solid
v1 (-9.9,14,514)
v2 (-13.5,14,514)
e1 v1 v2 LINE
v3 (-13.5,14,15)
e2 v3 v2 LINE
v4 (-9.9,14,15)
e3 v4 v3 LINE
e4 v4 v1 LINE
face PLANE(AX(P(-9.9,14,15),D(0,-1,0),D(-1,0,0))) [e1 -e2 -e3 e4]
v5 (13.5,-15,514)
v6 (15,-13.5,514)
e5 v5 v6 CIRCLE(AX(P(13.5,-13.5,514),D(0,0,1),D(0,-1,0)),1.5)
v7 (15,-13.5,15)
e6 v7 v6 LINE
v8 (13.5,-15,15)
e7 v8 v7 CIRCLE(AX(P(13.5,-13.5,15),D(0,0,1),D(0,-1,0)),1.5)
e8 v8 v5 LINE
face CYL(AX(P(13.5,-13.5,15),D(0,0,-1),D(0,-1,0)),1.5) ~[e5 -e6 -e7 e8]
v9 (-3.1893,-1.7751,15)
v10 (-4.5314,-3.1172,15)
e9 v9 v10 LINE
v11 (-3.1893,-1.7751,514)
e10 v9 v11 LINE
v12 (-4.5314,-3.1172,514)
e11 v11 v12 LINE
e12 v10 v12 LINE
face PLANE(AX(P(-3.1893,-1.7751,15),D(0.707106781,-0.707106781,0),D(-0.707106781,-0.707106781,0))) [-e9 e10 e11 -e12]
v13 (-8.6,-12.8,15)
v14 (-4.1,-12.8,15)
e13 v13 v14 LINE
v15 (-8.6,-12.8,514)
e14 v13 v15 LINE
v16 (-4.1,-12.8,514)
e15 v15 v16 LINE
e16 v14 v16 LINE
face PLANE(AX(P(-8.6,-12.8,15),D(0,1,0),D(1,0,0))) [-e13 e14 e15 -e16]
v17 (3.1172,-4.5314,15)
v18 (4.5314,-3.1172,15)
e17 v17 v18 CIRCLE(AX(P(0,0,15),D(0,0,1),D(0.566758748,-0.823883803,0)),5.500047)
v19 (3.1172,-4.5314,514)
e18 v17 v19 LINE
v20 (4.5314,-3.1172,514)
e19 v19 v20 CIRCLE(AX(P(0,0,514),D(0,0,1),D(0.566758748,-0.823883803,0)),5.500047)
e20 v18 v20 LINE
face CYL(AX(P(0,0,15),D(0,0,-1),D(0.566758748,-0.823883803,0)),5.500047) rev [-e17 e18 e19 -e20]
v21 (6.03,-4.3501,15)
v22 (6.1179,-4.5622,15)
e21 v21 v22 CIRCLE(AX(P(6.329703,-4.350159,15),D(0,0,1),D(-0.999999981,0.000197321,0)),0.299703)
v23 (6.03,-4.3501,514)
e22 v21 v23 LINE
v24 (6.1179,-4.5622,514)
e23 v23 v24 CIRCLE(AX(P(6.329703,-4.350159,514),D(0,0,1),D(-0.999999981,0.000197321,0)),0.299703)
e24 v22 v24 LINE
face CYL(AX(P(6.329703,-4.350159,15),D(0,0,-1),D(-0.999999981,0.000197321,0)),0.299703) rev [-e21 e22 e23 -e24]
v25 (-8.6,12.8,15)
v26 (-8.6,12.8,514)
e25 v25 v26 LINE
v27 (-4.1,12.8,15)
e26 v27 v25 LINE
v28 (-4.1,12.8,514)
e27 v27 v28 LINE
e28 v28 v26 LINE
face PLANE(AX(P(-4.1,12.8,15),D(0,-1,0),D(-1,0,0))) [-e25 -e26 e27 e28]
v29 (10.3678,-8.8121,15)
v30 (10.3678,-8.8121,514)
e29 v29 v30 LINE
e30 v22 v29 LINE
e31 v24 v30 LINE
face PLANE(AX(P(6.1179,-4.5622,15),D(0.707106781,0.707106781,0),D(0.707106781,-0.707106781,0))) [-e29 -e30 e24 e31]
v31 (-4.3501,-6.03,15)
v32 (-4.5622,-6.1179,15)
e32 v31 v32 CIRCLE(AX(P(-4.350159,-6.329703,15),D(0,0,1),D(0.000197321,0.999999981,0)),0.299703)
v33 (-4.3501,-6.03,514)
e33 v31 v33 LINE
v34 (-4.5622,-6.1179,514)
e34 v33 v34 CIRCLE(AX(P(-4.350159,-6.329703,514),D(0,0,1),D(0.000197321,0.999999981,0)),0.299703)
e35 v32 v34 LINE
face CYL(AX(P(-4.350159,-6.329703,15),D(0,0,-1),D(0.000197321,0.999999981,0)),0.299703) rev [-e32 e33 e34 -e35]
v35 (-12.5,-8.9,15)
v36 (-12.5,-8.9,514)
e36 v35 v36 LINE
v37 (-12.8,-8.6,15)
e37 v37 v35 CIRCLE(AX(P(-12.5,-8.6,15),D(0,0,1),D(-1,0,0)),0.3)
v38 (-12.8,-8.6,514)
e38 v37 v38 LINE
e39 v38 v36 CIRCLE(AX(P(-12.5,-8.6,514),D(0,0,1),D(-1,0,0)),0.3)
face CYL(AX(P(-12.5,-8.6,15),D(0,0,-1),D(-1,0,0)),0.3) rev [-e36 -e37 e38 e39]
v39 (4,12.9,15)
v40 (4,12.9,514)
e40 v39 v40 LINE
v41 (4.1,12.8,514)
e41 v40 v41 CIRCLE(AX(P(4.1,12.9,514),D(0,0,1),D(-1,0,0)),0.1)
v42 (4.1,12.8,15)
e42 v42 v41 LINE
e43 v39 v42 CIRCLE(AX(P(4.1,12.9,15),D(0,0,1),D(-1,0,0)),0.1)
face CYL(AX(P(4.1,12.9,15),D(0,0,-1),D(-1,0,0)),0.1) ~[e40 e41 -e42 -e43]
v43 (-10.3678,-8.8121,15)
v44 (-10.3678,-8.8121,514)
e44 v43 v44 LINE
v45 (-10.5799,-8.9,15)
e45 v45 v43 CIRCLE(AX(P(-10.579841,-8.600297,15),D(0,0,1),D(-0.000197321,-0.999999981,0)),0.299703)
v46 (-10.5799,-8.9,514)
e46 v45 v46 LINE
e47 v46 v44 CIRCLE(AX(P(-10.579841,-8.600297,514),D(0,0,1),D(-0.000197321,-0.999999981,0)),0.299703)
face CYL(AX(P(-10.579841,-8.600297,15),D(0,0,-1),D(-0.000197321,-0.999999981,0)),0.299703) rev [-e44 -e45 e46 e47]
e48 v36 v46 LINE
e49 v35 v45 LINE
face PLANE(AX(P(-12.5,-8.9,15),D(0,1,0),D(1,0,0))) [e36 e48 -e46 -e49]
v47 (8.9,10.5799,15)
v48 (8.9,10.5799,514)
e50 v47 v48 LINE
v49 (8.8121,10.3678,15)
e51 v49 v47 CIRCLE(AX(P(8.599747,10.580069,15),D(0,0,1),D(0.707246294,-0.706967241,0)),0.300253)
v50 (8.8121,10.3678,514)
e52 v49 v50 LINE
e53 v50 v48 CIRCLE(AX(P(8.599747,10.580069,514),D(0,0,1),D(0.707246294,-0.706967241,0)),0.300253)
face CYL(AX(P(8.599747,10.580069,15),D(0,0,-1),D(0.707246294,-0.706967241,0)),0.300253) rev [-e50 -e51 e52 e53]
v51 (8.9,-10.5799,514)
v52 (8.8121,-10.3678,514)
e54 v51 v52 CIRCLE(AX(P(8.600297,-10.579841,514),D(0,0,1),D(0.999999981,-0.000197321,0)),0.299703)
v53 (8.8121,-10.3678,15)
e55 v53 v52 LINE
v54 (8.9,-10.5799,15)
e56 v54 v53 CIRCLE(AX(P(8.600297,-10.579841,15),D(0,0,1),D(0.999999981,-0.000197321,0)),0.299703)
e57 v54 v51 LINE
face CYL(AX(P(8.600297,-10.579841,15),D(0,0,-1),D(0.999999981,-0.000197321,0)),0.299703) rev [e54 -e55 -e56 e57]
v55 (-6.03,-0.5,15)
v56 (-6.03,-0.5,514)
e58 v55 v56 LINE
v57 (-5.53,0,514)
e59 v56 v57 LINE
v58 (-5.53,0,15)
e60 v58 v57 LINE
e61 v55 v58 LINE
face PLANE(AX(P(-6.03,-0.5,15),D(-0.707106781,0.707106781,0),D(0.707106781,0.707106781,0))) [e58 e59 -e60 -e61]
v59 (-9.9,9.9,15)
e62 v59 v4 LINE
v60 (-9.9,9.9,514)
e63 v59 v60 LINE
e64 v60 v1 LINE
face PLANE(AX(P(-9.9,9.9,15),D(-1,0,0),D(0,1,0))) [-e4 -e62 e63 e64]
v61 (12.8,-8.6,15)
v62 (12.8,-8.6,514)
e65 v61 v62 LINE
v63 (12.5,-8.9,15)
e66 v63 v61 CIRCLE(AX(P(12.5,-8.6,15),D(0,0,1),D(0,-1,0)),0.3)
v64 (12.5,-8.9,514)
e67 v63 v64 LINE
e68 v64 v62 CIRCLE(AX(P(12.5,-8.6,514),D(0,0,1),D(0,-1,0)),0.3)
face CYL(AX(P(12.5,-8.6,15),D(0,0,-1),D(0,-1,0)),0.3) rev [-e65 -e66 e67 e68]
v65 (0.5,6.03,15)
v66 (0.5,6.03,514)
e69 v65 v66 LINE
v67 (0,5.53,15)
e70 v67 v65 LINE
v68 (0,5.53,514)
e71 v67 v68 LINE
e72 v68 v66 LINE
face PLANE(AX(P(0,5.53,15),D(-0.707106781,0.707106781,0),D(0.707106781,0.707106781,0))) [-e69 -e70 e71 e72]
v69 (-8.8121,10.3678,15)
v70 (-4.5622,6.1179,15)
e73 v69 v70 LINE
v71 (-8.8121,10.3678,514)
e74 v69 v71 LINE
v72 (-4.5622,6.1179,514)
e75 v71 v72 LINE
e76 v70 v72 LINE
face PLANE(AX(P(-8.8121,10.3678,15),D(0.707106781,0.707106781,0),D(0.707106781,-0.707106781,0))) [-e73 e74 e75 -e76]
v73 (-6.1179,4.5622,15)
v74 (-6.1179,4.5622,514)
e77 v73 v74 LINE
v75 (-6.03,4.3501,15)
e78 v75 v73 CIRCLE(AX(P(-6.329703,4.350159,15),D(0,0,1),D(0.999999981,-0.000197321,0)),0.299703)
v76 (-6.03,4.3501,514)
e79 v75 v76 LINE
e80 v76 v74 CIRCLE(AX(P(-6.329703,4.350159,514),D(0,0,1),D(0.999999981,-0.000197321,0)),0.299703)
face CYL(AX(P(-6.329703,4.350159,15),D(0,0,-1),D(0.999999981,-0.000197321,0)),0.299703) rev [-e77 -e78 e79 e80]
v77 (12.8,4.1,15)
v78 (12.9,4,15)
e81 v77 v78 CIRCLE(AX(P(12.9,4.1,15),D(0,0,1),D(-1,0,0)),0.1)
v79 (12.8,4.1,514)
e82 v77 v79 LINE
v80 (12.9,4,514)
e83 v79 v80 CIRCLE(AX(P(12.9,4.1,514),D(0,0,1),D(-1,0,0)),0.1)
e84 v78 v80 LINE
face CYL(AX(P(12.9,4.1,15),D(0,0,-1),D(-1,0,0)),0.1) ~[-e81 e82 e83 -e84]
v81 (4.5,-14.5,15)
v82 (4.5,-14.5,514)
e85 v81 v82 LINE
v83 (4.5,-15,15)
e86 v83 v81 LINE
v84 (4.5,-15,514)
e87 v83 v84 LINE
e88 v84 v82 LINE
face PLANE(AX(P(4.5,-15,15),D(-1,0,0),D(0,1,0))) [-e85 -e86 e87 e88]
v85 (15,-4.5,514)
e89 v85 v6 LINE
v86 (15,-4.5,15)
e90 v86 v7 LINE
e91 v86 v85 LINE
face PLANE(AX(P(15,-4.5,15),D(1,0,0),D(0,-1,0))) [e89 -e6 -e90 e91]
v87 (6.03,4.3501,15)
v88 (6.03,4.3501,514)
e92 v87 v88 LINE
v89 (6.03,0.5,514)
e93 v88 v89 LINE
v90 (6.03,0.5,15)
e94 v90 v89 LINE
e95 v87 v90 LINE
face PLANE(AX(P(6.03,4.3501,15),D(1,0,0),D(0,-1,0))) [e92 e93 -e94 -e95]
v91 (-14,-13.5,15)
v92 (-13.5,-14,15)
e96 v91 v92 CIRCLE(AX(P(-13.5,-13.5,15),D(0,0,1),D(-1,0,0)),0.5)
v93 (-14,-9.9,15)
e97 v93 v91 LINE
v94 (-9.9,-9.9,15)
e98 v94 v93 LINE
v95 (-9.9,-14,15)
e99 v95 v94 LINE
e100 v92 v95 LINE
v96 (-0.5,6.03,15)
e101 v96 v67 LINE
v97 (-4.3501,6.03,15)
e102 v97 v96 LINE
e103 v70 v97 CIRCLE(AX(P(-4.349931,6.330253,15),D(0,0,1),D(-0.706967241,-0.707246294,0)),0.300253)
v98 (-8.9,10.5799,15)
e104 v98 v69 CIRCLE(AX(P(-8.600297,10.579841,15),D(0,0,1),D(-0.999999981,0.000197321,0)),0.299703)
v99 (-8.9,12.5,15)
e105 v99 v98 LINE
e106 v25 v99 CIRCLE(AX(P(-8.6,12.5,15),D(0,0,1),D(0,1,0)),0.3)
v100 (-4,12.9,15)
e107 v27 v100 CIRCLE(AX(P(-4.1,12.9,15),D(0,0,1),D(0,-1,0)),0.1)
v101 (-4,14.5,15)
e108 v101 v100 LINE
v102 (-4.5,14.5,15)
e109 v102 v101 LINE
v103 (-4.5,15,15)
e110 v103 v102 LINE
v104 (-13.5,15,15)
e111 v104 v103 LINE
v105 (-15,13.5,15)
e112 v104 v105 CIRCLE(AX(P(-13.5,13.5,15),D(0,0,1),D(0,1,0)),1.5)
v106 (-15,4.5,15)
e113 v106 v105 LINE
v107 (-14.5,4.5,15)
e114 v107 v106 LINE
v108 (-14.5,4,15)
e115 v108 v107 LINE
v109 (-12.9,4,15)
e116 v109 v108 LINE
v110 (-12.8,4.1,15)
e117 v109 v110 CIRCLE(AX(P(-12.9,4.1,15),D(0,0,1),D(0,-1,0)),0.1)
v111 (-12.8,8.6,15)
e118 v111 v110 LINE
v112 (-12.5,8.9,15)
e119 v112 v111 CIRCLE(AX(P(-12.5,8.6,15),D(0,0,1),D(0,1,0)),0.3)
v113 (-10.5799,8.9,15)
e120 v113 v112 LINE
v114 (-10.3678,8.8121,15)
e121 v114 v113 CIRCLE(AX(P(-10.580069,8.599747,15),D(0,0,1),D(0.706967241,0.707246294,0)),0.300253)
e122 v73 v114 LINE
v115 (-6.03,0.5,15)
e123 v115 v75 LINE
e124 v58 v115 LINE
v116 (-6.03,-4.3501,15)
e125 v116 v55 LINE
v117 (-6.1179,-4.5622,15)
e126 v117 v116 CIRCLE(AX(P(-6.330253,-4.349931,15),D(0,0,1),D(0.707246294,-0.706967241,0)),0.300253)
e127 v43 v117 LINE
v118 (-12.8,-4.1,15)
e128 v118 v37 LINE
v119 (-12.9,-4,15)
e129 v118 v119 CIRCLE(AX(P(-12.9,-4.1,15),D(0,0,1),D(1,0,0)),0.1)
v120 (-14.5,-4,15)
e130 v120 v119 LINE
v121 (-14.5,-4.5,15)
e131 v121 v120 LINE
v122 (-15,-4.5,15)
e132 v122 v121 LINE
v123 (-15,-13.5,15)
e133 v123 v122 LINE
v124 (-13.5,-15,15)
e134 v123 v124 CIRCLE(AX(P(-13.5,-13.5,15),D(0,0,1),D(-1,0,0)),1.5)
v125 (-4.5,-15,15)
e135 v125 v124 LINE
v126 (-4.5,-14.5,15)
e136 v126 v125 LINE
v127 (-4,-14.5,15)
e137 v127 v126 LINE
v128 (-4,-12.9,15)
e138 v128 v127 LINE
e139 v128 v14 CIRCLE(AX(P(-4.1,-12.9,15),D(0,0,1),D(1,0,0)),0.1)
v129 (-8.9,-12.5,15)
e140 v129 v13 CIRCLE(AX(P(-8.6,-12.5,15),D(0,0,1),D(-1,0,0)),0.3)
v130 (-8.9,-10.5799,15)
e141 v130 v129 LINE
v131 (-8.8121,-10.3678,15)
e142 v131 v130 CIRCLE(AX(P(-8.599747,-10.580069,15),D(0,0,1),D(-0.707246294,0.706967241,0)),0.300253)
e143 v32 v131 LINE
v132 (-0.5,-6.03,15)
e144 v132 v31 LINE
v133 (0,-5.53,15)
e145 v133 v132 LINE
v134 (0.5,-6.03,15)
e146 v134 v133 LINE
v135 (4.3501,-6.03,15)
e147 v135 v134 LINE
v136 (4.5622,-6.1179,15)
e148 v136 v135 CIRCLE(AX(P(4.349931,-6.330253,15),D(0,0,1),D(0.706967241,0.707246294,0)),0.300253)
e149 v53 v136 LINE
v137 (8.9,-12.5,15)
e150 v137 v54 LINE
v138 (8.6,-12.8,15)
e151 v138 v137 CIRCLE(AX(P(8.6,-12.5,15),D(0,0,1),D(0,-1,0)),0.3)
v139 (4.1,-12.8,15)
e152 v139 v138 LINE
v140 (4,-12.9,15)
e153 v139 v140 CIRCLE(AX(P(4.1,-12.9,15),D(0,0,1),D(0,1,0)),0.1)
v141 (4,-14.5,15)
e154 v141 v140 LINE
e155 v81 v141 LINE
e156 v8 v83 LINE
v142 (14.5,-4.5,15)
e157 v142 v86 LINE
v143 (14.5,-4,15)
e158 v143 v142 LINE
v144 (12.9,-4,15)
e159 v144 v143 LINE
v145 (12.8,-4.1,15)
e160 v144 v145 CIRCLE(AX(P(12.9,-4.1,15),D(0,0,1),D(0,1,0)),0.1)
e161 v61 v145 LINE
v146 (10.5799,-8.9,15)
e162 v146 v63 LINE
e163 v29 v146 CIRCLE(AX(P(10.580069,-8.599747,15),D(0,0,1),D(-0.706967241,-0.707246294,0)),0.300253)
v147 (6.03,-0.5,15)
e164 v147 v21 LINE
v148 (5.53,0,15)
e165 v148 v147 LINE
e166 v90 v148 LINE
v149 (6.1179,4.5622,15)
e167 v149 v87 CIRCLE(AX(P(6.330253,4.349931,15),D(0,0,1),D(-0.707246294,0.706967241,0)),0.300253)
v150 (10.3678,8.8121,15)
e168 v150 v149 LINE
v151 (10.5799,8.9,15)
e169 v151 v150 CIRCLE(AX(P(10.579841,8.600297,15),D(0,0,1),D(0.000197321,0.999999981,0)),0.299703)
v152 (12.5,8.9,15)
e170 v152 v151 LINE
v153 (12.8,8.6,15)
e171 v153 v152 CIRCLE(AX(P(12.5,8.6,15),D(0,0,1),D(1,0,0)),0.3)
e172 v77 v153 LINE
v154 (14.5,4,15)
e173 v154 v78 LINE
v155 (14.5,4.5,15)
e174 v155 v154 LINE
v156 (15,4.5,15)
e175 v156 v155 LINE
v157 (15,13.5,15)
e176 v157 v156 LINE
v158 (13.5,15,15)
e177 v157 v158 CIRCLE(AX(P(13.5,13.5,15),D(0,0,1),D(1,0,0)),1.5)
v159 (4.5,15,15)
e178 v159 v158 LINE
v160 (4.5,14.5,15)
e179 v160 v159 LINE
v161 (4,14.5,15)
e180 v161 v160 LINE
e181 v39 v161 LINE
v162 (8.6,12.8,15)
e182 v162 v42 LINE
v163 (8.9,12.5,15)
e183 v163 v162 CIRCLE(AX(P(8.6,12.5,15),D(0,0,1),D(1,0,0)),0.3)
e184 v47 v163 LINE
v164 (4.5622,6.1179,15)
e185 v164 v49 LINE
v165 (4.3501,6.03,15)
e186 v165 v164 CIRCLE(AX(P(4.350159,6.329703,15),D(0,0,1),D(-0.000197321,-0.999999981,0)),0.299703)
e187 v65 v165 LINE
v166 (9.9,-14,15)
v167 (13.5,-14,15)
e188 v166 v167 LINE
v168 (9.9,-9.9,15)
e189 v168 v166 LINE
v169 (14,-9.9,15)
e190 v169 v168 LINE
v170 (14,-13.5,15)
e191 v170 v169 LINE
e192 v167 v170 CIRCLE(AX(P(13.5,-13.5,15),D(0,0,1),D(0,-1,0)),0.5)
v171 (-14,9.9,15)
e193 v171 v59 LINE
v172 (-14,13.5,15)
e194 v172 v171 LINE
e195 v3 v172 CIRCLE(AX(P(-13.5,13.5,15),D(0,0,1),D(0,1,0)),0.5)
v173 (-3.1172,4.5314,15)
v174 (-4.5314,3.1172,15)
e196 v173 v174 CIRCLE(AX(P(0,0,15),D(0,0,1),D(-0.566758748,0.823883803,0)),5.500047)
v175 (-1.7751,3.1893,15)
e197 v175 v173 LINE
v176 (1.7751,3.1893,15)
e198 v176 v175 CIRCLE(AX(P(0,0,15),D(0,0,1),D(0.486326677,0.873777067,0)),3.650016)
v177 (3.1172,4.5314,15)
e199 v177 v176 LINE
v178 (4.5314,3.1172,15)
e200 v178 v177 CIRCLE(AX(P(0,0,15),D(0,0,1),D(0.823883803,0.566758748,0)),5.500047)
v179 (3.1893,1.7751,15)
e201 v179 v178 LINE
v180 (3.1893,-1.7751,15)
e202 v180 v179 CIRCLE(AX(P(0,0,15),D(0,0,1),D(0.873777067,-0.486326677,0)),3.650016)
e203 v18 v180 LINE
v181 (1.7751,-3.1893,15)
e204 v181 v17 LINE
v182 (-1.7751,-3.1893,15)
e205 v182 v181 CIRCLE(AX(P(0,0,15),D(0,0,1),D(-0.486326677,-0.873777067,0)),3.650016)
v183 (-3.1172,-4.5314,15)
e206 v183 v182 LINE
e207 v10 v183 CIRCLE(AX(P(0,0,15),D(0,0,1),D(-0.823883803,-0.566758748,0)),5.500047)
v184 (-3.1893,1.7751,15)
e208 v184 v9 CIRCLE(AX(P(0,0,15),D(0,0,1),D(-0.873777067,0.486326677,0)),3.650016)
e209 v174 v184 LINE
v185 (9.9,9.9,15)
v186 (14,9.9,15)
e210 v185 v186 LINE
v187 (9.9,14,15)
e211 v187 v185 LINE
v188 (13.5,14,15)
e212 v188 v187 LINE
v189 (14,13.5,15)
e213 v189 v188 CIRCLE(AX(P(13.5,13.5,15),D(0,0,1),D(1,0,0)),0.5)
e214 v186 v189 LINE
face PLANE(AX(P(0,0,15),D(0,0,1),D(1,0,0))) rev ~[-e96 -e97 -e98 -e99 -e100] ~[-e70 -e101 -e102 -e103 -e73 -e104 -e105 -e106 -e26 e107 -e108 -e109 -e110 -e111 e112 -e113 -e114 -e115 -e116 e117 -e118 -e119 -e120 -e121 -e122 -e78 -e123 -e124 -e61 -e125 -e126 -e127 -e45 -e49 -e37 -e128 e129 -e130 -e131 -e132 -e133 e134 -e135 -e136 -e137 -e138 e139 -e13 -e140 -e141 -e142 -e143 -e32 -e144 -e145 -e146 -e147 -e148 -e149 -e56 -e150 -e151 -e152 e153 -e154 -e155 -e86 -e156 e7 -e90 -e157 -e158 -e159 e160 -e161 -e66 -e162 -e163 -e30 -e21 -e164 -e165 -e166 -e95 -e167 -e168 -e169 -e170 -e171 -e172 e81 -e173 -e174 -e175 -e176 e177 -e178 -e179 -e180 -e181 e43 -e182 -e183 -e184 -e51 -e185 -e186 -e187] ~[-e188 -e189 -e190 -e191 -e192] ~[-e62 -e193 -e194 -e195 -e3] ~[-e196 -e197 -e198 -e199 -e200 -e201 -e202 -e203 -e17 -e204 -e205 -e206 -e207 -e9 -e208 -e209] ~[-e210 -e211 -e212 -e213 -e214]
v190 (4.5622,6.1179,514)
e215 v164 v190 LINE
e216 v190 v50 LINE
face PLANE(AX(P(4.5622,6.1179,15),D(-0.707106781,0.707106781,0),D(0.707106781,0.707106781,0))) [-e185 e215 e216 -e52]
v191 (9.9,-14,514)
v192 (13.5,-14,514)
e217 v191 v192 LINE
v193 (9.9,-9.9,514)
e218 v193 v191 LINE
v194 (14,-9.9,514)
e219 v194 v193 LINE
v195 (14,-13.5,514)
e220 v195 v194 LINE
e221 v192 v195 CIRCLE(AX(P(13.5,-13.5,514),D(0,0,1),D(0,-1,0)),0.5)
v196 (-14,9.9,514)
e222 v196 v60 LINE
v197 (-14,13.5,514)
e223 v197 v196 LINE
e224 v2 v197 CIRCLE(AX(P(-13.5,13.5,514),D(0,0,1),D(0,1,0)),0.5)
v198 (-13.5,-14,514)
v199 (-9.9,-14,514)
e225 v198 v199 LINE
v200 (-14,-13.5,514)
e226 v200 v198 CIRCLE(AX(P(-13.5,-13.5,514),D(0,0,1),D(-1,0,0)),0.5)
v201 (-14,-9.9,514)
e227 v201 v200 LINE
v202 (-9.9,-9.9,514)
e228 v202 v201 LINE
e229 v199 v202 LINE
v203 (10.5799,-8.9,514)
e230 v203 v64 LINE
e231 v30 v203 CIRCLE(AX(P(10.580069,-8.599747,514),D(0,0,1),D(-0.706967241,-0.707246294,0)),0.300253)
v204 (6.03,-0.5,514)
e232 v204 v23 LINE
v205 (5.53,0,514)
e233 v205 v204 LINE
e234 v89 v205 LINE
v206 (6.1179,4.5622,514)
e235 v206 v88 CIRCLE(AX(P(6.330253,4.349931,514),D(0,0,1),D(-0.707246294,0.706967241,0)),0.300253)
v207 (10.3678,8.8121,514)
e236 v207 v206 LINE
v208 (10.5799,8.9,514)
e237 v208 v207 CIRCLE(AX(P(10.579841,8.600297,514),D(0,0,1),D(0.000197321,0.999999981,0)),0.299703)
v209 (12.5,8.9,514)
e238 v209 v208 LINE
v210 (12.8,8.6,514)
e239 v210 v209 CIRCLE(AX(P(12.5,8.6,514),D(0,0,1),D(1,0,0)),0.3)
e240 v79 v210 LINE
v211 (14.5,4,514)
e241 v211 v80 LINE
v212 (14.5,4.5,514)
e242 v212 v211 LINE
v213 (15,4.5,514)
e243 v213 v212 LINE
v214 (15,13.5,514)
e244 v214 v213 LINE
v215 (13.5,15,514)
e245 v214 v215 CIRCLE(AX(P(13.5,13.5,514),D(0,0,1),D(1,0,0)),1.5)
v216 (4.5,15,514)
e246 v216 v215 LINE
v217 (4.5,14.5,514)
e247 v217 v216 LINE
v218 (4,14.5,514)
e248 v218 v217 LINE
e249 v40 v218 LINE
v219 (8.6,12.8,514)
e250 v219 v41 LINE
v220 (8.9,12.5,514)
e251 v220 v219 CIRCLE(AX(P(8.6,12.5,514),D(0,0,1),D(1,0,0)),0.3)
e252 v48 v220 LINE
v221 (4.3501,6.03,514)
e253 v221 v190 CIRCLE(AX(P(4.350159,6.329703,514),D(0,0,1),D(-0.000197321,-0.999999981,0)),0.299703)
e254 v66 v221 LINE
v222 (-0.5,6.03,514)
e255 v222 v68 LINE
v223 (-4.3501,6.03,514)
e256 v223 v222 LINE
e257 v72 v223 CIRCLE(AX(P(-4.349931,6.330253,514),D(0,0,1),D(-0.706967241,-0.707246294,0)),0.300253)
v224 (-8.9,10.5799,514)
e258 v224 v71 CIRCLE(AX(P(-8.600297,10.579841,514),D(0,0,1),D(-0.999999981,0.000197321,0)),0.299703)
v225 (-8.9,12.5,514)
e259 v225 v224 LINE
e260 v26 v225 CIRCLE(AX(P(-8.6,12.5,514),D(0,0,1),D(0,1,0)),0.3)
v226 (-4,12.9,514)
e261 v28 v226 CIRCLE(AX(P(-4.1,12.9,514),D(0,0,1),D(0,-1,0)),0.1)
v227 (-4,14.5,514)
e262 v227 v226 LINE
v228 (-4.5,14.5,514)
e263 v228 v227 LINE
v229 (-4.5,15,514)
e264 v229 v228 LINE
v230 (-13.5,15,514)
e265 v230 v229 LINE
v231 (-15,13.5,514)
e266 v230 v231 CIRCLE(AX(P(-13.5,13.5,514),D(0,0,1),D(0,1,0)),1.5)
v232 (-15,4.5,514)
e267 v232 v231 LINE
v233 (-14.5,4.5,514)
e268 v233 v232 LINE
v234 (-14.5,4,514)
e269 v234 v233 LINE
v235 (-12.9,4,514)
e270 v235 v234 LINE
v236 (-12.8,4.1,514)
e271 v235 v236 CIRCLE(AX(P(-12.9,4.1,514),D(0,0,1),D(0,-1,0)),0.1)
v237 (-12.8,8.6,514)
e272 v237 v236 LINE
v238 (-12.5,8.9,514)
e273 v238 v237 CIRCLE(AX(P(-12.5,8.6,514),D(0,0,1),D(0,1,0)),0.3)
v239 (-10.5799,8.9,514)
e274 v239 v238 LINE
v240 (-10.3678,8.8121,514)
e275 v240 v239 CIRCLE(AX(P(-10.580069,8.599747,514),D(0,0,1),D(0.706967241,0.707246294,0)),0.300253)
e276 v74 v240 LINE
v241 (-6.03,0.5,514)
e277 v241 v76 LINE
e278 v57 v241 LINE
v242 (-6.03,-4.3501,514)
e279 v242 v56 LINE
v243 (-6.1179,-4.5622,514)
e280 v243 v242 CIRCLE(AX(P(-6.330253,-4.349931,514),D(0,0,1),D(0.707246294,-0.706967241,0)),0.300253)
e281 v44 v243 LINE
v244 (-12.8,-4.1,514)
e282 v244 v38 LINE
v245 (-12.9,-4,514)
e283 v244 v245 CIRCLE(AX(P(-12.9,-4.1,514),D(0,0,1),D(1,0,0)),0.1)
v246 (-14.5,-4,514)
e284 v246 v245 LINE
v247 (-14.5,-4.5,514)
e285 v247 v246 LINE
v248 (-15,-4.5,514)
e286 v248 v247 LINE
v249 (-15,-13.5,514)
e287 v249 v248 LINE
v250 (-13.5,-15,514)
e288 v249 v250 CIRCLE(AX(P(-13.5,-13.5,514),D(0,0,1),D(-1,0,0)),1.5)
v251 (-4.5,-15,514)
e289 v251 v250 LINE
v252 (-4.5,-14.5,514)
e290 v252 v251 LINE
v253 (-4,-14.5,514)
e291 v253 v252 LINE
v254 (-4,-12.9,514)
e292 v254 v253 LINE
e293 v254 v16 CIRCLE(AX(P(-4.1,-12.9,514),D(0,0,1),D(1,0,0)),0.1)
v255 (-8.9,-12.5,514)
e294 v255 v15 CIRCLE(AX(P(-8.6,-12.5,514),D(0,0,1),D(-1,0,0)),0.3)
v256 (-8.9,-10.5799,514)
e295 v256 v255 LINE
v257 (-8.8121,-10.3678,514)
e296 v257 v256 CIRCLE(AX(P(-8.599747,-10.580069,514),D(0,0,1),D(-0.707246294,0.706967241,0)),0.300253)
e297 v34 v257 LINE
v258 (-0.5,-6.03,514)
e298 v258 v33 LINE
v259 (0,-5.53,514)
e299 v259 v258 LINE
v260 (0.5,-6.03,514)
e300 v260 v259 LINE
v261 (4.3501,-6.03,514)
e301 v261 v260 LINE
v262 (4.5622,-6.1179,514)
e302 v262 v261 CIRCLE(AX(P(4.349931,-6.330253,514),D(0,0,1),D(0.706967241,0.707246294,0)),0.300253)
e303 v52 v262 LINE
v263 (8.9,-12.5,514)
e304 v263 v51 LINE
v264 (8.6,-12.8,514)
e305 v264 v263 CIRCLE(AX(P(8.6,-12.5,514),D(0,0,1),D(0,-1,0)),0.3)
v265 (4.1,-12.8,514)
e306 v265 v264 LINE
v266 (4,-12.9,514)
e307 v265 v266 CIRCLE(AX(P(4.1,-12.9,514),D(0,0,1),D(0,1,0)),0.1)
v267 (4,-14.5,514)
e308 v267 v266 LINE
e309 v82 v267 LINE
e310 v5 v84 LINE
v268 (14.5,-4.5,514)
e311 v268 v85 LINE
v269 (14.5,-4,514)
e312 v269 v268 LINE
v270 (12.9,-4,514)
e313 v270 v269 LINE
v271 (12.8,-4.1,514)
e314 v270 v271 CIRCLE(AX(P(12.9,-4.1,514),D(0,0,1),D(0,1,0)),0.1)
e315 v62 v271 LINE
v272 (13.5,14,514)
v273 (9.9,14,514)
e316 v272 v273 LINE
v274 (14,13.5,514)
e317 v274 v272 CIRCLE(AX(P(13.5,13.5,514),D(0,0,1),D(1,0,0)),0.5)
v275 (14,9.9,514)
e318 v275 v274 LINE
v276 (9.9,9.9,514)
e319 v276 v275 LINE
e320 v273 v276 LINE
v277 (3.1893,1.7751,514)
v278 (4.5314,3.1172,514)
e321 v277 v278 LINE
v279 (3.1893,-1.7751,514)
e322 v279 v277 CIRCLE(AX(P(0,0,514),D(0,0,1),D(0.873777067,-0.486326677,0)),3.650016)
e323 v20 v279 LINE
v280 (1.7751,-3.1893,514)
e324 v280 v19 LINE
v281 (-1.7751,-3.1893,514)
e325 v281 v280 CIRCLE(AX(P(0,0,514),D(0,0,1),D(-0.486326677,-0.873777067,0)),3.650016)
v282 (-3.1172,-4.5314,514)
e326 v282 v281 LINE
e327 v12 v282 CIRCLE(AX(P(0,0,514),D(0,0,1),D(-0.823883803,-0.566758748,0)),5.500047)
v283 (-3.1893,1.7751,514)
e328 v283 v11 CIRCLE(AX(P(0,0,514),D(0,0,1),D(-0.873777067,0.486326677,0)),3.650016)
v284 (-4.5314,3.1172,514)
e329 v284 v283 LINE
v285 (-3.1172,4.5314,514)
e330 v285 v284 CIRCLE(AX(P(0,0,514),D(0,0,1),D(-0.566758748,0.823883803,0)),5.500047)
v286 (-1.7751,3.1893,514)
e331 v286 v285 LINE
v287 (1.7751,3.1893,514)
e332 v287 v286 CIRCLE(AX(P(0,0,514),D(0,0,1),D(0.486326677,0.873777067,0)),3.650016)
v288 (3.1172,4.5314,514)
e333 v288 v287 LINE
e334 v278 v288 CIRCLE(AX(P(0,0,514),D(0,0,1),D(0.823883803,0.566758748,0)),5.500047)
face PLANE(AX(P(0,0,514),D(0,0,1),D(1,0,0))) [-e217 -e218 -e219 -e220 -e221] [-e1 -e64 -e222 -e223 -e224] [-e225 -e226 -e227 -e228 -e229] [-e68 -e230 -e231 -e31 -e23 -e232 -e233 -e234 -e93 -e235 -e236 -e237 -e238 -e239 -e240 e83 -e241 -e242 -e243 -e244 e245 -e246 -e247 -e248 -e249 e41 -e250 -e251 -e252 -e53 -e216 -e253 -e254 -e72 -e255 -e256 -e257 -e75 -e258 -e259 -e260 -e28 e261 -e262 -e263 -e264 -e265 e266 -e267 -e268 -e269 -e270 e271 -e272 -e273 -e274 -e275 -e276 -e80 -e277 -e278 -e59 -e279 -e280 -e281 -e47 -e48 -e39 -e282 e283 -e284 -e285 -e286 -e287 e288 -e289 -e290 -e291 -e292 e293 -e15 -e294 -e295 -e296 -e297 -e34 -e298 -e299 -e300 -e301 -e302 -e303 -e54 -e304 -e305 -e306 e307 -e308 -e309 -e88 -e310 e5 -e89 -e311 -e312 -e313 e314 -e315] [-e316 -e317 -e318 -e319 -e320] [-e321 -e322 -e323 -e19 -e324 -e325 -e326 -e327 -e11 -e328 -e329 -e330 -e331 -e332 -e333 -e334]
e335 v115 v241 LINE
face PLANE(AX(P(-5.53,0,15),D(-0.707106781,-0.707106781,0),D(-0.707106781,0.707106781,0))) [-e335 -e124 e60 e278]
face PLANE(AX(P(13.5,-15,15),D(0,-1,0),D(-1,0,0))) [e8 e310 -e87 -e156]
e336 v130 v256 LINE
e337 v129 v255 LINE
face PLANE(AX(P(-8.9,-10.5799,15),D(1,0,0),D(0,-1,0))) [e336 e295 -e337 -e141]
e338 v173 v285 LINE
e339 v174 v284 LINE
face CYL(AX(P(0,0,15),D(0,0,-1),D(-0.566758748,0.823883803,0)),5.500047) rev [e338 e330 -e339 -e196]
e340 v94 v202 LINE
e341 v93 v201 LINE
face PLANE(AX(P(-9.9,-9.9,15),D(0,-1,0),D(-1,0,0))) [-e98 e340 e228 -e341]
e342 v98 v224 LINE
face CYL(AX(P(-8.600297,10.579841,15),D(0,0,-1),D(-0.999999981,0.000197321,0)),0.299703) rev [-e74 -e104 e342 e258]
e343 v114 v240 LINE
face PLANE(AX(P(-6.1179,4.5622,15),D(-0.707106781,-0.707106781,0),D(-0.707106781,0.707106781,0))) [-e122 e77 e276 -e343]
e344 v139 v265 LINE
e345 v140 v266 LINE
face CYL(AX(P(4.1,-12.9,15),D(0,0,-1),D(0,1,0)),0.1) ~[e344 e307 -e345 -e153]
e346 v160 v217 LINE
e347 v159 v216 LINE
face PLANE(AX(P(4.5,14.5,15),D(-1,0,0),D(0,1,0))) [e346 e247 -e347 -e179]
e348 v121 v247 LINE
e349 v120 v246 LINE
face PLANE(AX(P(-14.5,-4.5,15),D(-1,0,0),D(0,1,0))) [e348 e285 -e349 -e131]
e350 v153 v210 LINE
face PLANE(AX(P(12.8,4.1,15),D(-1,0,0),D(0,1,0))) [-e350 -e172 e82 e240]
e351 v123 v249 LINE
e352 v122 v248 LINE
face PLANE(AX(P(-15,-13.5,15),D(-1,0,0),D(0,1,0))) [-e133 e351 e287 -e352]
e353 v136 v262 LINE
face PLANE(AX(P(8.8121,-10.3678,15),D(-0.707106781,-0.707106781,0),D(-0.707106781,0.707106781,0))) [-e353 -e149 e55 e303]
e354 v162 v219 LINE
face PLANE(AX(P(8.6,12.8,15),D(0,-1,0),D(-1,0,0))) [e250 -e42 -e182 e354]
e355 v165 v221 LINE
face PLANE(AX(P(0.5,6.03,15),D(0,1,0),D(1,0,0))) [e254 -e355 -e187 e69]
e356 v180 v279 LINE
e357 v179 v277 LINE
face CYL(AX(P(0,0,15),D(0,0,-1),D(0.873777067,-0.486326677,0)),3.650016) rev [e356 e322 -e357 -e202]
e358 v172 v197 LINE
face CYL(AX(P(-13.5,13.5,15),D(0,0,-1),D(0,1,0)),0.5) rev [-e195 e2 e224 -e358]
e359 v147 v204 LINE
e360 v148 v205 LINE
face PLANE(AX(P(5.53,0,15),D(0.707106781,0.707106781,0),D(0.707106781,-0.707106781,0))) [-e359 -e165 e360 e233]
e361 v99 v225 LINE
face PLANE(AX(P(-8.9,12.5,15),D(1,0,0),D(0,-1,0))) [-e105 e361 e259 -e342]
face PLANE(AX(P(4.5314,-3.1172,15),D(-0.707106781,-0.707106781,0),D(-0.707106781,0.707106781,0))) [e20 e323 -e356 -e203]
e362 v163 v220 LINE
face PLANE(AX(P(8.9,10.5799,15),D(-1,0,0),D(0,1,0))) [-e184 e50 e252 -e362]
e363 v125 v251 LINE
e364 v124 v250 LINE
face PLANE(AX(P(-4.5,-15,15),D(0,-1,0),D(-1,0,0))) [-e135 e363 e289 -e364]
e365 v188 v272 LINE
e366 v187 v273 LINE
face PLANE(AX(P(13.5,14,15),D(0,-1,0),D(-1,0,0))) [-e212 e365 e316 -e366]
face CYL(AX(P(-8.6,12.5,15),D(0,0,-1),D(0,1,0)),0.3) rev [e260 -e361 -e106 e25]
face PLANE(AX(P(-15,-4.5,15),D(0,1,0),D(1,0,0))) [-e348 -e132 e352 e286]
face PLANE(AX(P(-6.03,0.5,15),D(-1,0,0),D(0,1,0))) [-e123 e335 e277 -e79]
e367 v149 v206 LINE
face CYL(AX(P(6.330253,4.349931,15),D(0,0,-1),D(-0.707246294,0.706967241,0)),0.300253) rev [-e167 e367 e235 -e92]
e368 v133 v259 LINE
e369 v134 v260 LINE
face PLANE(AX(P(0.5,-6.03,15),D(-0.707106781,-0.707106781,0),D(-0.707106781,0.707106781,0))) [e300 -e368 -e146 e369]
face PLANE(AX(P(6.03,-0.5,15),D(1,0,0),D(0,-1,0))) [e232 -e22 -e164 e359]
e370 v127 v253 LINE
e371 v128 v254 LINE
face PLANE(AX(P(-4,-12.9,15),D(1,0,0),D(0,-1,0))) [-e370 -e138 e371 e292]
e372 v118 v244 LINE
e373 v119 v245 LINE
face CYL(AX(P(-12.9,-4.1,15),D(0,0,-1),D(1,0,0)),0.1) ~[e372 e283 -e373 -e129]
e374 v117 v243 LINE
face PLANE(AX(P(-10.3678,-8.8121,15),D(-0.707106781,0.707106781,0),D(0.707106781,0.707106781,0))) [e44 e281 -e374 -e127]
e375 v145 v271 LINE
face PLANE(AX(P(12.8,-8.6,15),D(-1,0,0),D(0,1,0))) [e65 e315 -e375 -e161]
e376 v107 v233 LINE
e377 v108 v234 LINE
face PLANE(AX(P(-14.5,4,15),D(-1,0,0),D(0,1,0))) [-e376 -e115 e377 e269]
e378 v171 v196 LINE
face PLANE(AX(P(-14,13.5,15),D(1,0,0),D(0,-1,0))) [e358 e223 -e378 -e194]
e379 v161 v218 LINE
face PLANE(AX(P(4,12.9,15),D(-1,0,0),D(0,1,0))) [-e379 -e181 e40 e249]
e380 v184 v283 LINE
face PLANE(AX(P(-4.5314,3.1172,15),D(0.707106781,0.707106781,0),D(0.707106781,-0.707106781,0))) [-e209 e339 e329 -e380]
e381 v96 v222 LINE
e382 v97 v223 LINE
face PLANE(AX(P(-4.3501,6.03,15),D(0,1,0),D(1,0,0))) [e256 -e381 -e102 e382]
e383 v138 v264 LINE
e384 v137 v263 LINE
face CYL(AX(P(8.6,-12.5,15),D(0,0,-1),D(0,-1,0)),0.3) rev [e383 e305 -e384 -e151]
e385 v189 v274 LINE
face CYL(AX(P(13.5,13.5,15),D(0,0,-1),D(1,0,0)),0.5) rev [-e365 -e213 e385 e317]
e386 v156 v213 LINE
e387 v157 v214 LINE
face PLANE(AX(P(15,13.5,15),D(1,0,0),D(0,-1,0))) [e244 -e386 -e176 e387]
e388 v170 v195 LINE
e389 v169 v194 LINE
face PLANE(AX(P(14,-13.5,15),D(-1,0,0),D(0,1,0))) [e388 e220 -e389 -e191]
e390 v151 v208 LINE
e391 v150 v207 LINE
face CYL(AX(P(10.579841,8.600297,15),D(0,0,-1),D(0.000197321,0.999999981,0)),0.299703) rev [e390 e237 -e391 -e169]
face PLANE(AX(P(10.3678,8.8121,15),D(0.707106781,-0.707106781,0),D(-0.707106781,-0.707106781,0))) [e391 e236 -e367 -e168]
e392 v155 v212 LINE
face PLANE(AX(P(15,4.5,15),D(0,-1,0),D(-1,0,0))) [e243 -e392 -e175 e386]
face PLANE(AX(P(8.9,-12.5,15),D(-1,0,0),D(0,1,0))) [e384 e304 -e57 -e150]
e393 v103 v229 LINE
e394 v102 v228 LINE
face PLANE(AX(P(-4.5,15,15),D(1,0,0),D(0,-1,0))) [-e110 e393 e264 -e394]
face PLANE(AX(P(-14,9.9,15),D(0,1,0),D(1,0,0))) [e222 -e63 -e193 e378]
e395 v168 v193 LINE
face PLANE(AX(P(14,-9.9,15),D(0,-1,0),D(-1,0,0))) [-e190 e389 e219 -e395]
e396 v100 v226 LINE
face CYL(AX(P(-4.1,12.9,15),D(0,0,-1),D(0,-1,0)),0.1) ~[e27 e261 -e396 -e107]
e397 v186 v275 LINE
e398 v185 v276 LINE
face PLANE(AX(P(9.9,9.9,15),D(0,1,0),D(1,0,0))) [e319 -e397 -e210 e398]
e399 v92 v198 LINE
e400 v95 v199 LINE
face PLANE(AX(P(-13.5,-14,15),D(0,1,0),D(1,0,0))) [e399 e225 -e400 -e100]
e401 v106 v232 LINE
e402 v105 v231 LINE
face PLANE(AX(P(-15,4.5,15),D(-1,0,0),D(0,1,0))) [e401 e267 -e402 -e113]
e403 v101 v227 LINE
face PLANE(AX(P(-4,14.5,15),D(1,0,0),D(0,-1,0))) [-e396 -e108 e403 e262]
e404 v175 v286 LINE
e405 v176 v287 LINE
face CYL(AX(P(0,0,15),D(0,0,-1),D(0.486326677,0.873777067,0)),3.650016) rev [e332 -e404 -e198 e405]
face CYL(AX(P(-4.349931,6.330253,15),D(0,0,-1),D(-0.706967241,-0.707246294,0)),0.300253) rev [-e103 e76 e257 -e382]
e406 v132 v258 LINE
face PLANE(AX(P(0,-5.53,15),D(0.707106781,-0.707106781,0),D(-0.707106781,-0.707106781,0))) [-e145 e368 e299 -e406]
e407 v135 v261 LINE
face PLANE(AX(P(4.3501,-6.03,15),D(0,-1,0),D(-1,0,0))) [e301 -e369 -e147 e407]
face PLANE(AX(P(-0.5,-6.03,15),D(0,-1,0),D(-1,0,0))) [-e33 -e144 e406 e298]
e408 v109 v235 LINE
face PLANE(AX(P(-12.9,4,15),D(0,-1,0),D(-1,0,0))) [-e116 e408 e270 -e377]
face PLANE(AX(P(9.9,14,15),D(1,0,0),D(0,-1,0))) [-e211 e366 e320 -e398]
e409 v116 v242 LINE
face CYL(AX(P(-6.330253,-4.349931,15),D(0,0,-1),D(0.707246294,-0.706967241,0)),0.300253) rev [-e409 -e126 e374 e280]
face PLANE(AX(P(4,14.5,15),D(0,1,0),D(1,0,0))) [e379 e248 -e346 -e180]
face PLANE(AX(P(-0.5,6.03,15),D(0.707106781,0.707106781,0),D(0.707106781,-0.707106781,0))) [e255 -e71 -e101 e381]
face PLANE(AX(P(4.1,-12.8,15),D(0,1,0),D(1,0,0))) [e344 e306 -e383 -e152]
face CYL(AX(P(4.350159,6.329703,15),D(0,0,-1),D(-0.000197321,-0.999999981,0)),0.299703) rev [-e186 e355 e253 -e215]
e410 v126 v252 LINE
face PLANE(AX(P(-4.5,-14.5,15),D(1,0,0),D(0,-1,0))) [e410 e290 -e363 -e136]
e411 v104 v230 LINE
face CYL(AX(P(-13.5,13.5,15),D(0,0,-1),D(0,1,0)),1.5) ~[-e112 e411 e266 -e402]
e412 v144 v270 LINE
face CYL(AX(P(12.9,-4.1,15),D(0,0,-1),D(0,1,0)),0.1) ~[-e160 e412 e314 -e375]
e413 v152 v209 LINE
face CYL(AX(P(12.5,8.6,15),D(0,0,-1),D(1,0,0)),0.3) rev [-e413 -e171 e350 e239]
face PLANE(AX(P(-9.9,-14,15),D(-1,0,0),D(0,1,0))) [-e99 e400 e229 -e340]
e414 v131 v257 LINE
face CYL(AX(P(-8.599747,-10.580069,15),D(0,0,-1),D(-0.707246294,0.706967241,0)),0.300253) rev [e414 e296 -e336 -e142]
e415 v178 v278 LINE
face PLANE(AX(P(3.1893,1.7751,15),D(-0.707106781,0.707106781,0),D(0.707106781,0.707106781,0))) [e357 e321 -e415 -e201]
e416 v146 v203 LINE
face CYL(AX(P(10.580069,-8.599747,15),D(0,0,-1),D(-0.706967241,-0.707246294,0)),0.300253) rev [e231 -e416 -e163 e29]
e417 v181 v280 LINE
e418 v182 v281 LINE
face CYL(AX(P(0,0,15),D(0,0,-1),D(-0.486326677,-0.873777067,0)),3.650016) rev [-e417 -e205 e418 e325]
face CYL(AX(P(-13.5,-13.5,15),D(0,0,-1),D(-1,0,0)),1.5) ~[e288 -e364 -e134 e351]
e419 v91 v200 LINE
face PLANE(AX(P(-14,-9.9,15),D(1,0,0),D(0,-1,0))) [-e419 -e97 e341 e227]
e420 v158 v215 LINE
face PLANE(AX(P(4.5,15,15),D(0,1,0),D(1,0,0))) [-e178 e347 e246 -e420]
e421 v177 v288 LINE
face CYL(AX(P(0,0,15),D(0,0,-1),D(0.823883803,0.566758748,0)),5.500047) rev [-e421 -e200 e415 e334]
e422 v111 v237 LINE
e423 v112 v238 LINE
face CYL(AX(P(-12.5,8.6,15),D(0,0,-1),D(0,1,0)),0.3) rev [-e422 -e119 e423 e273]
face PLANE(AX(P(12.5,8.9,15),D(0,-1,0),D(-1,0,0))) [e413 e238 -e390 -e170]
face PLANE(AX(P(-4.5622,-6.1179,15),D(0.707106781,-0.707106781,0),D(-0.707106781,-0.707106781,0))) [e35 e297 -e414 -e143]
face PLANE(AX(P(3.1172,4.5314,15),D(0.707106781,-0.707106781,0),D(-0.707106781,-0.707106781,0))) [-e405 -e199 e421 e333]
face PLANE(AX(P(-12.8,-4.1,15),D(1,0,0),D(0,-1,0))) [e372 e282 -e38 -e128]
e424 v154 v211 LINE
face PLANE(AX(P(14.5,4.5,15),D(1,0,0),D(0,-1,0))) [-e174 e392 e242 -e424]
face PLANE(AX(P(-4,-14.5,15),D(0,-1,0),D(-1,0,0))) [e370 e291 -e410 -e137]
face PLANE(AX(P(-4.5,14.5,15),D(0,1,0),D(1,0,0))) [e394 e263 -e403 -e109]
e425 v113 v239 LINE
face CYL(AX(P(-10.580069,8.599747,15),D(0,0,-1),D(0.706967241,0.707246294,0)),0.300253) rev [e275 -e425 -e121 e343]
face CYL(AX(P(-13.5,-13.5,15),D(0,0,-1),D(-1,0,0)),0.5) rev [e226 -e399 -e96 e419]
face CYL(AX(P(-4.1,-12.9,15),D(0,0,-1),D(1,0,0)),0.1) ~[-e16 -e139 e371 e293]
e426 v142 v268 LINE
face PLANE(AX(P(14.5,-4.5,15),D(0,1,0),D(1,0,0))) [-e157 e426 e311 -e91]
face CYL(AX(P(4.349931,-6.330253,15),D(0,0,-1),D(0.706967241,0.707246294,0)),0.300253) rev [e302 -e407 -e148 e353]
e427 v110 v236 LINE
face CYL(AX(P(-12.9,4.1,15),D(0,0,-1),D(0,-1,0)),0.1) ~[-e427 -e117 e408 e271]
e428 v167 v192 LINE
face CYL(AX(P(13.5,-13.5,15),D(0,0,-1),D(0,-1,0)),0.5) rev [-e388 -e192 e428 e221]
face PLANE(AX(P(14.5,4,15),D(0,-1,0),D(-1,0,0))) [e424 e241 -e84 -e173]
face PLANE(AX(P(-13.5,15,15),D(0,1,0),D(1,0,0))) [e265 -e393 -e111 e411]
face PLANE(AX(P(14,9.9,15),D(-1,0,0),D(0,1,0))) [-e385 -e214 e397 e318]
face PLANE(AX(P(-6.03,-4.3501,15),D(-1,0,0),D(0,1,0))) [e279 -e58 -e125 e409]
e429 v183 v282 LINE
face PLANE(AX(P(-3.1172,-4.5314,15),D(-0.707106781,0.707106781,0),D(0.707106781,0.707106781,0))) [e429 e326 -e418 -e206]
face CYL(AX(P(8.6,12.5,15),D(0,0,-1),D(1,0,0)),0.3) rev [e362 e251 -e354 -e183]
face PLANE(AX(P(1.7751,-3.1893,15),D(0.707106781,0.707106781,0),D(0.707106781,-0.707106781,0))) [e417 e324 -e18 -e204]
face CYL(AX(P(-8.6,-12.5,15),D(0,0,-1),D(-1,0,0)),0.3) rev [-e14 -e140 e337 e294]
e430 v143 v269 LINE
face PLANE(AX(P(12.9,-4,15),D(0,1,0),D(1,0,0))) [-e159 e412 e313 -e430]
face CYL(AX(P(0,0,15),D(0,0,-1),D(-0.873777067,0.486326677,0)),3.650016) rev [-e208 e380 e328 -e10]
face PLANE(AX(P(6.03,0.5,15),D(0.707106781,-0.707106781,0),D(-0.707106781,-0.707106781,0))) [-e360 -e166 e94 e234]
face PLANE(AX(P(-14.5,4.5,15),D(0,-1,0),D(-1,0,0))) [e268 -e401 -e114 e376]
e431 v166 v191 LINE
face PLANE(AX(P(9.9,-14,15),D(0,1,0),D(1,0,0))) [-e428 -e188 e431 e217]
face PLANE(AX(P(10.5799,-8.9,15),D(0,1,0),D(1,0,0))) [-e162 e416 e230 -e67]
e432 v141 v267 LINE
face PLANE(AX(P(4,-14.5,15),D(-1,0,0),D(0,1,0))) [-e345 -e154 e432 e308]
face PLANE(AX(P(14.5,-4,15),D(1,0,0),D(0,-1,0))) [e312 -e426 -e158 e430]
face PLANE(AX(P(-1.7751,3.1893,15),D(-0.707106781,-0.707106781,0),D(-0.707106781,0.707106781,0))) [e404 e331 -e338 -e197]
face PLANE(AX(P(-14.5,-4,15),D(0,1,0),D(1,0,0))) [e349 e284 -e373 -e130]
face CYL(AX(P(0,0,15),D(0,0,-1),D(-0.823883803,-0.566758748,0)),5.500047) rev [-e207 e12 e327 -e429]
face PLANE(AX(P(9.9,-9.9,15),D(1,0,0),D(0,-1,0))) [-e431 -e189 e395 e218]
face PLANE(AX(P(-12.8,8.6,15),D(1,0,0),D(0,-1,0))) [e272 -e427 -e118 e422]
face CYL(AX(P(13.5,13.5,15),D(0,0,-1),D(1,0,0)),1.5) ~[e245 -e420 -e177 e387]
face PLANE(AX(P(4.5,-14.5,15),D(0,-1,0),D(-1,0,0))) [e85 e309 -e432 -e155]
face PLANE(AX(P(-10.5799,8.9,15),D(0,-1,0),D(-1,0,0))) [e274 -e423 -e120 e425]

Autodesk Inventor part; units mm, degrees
ref_plane "Płaszczyzna początkowa" through (0, 0, 15) normal (0, 0, 1) x (1, 0, 0)
ref_plane "Płaszczyzna końcowa" through (0, 0, 514) normal (0, 0, 1) x (1, 0, 0)
sketch "Szkic" plane through (0, 0, 0) normal (0, 0, 1) x (1, 0, 0)
  line L0 (1.7751, -3.1893) -> (3.1172, -4.5314)
  arc A0 (-1.7751, -3.1893) -> (1.7751, -3.1893) centre (0, 0) ccw
  line L1 (-3.1172, -4.5314) -> (-1.7751, -3.1893)
  arc A1 (-4.5314, -3.1172) -> (-3.1172, -4.5314) centre (0, 0) ccw
  line L2 (-3.1893, -1.7751) -> (-4.5314, -3.1172)
  arc A2 (-3.1893, 1.7751) -> (-3.1893, -1.7751) centre (0, 0) ccw
  line L3 (-4.5314, 3.1172) -> (-3.1893, 1.7751)
  arc A3 (-3.1172, 4.5314) -> (-4.5314, 3.1172) centre (0, 0) ccw
  line L4 (-1.7751, 3.1893) -> (-3.1172, 4.5314)
  arc A4 (1.7751, 3.1893) -> (-1.7751, 3.1893) centre (0, 0) ccw
  line L5 (3.1172, 4.5314) -> (1.7751, 3.1893)
  arc A5 (4.5314, 3.1172) -> (3.1172, 4.5314) centre (0, 0) ccw
  line L6 (3.1893, 1.7751) -> (4.5314, 3.1172)
  arc A6 (3.1893, -1.7751) -> (3.1893, 1.7751) centre (0, 0) ccw
  line L7 (4.5314, -3.1172) -> (3.1893, -1.7751)
  arc A7 (3.1172, -4.5314) -> (4.5314, -3.1172) centre (0, 0) ccw
  line L8 (14, -13.5) -> (14, -9.9)
  arc A8 (13.5, -14) -> (14, -13.5) centre (13.5, -13.5) ccw
  line L9 (9.9, -14) -> (13.5, -14)
  line L10 (9.9, -9.9) -> (9.9, -14)
  line L11 (14, -9.9) -> (9.9, -9.9)
  line L12 (-9.9, -9.9) -> (-14, -9.9)
  line L13 (-9.9, -14) -> (-9.9, -9.9)
  line L14 (-13.5, -14) -> (-9.9, -14)
  arc A9 (-14, -13.5) -> (-13.5, -14) centre (-13.5, -13.5) ccw
  line L15 (-14, -9.9) -> (-14, -13.5)
  line L16 (14, 9.9) -> (14, 13.5)
  line L17 (9.9, 9.9) -> (14, 9.9)
  line L18 (9.9, 14) -> (9.9, 9.9)
  line L19 (13.5, 14) -> (9.9, 14)
  arc A10 (14, 13.5) -> (13.5, 14) centre (13.5, 13.5) ccw
  line L20 (-14, 9.9) -> (-9.9, 9.9)
  line L21 (-14, 13.5) -> (-14, 9.9)
  arc A11 (-13.5, 14) -> (-14, 13.5) centre (-13.5, 13.5) ccw
  line L22 (-9.9, 14) -> (-13.5, 14)
  line L23 (-9.9, 9.9) -> (-9.9, 14)
  line L24 (13.5, -15) -> (4.5, -15)
  arc A12 (13.5, -15) -> (15, -13.5) centre (13.5, -13.5) ccw
  line L25 (15, -4.5) -> (15, -13.5)
  line L26 (14.5, -4.5) -> (15, -4.5)
  line L27 (14.5, -4) -> (14.5, -4.5)
  line L28 (12.9, -4) -> (14.5, -4)
  arc A13 (12.9, -4) -> (12.8, -4.1) centre (12.9, -4.1) ccw
  line L29 (12.8, -8.6) -> (12.8, -4.1)
  arc A14 (12.5, -8.9) -> (12.8, -8.6) centre (12.5, -8.6) ccw
  line L30 (10.5799, -8.9) -> (12.5, -8.9)
  arc A15 (10.3678, -8.8121) -> (10.5799, -8.9) centre (10.5799, -8.6) ccw
  line L31 (6.1179, -4.5622) -> (10.3678, -8.8121)
  arc A16 (6.03, -4.3501) -> (6.1179, -4.5622) centre (6.33, -4.3501) ccw
  line L32 (6.03, -0.5) -> (6.03, -4.3501)
  line L33 (5.53, 0) -> (6.03, -0.5)
  line L34 (6.03, 0.5) -> (5.53, 0)
  line L35 (6.03, 4.3501) -> (6.03, 0.5)
  arc A17 (6.1179, 4.5622) -> (6.03, 4.3501) centre (6.33, 4.3501) ccw
  line L36 (10.3678, 8.8121) -> (6.1179, 4.5622)
  arc A18 (10.5799, 8.9) -> (10.3678, 8.8121) centre (10.5799, 8.6) ccw
  line L37 (12.5, 8.9) -> (10.5799, 8.9)
  arc A19 (12.8, 8.6) -> (12.5, 8.9) centre (12.5, 8.6) ccw
  line L38 (12.8, 4.1) -> (12.8, 8.6)
  arc A20 (12.8, 4.1) -> (12.9, 4) centre (12.9, 4.1) ccw
  line L39 (14.5, 4) -> (12.9, 4)
  line L40 (14.5, 4.5) -> (14.5, 4)
  line L41 (15, 4.5) -> (14.5, 4.5)
  line L42 (15, 13.5) -> (15, 4.5)
  arc A21 (15, 13.5) -> (13.5, 15) centre (13.5, 13.5) ccw
  line L43 (4.5, 15) -> (13.5, 15)
  line L44 (4.5, 14.5) -> (4.5, 15)
  line L45 (4, 14.5) -> (4.5, 14.5)
  line L46 (4, 12.9) -> (4, 14.5)
  arc A22 (4, 12.9) -> (4.1, 12.8) centre (4.1, 12.9) ccw
  line L47 (8.6, 12.8) -> (4.1, 12.8)
  arc A23 (8.9, 12.5) -> (8.6, 12.8) centre (8.6, 12.5) ccw
  line L48 (8.9, 10.5799) -> (8.9, 12.5)
  arc A24 (8.8121, 10.3678) -> (8.9, 10.5799) centre (8.6, 10.5799) ccw
  line L49 (4.5622, 6.1179) -> (8.8121, 10.3678)
  arc A25 (4.3501, 6.03) -> (4.5622, 6.1179) centre (4.3501, 6.33) ccw
  line L50 (0.5, 6.03) -> (4.3501, 6.03)
  line L51 (0, 5.53) -> (0.5, 6.03)
  line L52 (-0.5, 6.03) -> (0, 5.53)
  line L53 (-4.3501, 6.03) -> (-0.5, 6.03)
  arc A26 (-4.5622, 6.1179) -> (-4.3501, 6.03) centre (-4.3501, 6.33) ccw
  line L54 (-8.8121, 10.3678) -> (-4.5622, 6.1179)
  arc A27 (-8.9, 10.5799) -> (-8.8121, 10.3678) centre (-8.6, 10.5799) ccw
  line L55 (-8.9, 12.5) -> (-8.9, 10.5799)
  arc A28 (-8.6, 12.8) -> (-8.9, 12.5) centre (-8.6, 12.5) ccw
  line L56 (-4.1, 12.8) -> (-8.6, 12.8)
  arc A29 (-4.1, 12.8) -> (-4, 12.9) centre (-4.1, 12.9) ccw
  line L57 (-4, 14.5) -> (-4, 12.9)
  line L58 (-4.5, 14.5) -> (-4, 14.5)
  line L59 (-4.5, 15) -> (-4.5, 14.5)
  line L60 (-13.5, 15) -> (-4.5, 15)
  arc A30 (-13.5, 15) -> (-15, 13.5) centre (-13.5, 13.5) ccw
  line L61 (-15, 4.5) -> (-15, 13.5)
  line L62 (-14.5, 4.5) -> (-15, 4.5)
  line L63 (-14.5, 4) -> (-14.5, 4.5)
  line L64 (-12.9, 4) -> (-14.5, 4)
  arc A31 (-12.9, 4) -> (-12.8, 4.1) centre (-12.9, 4.1) ccw
  line L65 (-12.8, 8.6) -> (-12.8, 4.1)
  arc A32 (-12.5, 8.9) -> (-12.8, 8.6) centre (-12.5, 8.6) ccw
  line L66 (-10.5799, 8.9) -> (-12.5, 8.9)
  arc A33 (-10.3678, 8.8121) -> (-10.5799, 8.9) centre (-10.5799, 8.6) ccw
  line L67 (-6.1179, 4.5622) -> (-10.3678, 8.8121)
  arc A34 (-6.03, 4.3501) -> (-6.1179, 4.5622) centre (-6.33, 4.3501) ccw
  line L68 (-6.03, 0.5) -> (-6.03, 4.3501)
  line L69 (-5.53, 0) -> (-6.03, 0.5)
  line L70 (-6.03, -0.5) -> (-5.53, 0)
  line L71 (-6.03, -4.3501) -> (-6.03, -0.5)
  arc A35 (-6.1179, -4.5622) -> (-6.03, -4.3501) centre (-6.33, -4.3501) ccw
  line L72 (-10.3678, -8.8121) -> (-6.1179, -4.5622)
  arc A36 (-10.5799, -8.9) -> (-10.3678, -8.8121) centre (-10.5799, -8.6) ccw
  line L73 (-12.5, -8.9) -> (-10.5799, -8.9)
  arc A37 (-12.8, -8.6) -> (-12.5, -8.9) centre (-12.5, -8.6) ccw
  line L74 (-12.8, -4.1) -> (-12.8, -8.6)
  arc A38 (-12.8, -4.1) -> (-12.9, -4) centre (-12.9, -4.1) ccw
  line L75 (-14.5, -4) -> (-12.9, -4)
  line L76 (-14.5, -4.5) -> (-14.5, -4)
  line L77 (-15, -4.5) -> (-14.5, -4.5)
  line L78 (-15, -13.5) -> (-15, -4.5)
  arc A39 (-15, -13.5) -> (-13.5, -15) centre (-13.5, -13.5) ccw
  line L79 (-4.5, -15) -> (-13.5, -15)
  line L80 (-4.5, -14.5) -> (-4.5, -15)
  line L81 (-4, -14.5) -> (-4.5, -14.5)
  line L82 (-4, -12.9) -> (-4, -14.5)
  arc A40 (-4, -12.9) -> (-4.1, -12.8) centre (-4.1, -12.9) ccw
  line L83 (-8.6, -12.8) -> (-4.1, -12.8)
  arc A41 (-8.9, -12.5) -> (-8.6, -12.8) centre (-8.6, -12.5) ccw
  line L84 (-8.9, -10.5799) -> (-8.9, -12.5)
  arc A42 (-8.8121, -10.3678) -> (-8.9, -10.5799) centre (-8.6, -10.5799) ccw
  line L85 (-4.5622, -6.1179) -> (-8.8121, -10.3678)
  arc A43 (-4.3501, -6.03) -> (-4.5622, -6.1179) centre (-4.3501, -6.33) ccw
  line L86 (-0.5, -6.03) -> (-4.3501, -6.03)
  line L87 (0, -5.53) -> (-0.5, -6.03)
  line L88 (0.5, -6.03) -> (0, -5.53)
  line L89 (4.3501, -6.03) -> (0.5, -6.03)
  arc A44 (4.5622, -6.1179) -> (4.3501, -6.03) centre (4.3501, -6.33) ccw
  line L90 (8.8121, -10.3678) -> (4.5622, -6.1179)
  arc A45 (8.9, -10.5799) -> (8.8121, -10.3678) centre (8.6, -10.5799) ccw
  line L91 (8.9, -12.5) -> (8.9, -10.5799)
  arc A46 (8.6, -12.8) -> (8.9, -12.5) centre (8.6, -12.5) ccw
  line L92 (4.1, -12.8) -> (8.6, -12.8)
  arc A47 (4.1, -12.8) -> (4, -12.9) centre (4.1, -12.9) ccw
  line L93 (4, -14.5) -> (4, -12.9)
  line L94 (4.5, -14.5) -> (4, -14.5)
  line L95 (4.5, -15) -> (4.5, -14.5)
  point P0 (15, -15)
extrude "Bryła" add sketch "Szkic" along normal up to surface (499 mm away) from surface at 15
sketch "Szkic2" plane through (0, 0, 0) normal (0, 0, 1) x (1, 0, 0)
  line L0 (0, 0) -> (10, 0)
ref_plane "Płaszczyzna konstrukcyjna3" through (0, 0, 0) normal (0, -1, 0) x (1, 0, 0)
sketch "Szkic3" plane through (0, 0, 0) normal (0, -1, 0) x (1, 0, 0)
  line L0 (-2, 15) -> (12, 15)
  line L1 (-2, 514) -> (12, 514)
  dimension "d7" = 499
ref_plane "Płaszczyzna konstrukcyjna4" through (13.5, -30, 514) normal (0, 0, 1) x (1, 0, 0)
split "Podział1" plane through (13.5, -30, 514) removes the side toward (0, 0, 1)
ref_plane "Płaszczyzna konstrukcyjna5" through (13.5, 500, 15) normal (0, 0, -1) x (-1, 0, 0)
split "Podział2" plane through (13.5, 500, 15) removes the side toward (0, 0, -1)
equation "\"G_OFFSET_START\" = -15"
equation "\"G_OFFSET_END\" = -15"
equation "\"d2\" = -G_OFFSET_START"
equation "\"d3\" = Length + G_OFFSET_END"
equation "\"G_L\" = d7"
equation "\"Length\" = 529"
properties part number "COTS_ARMA_AR3703_30x30_Alu_Extr_00000006" material "Aluminium 6061"
